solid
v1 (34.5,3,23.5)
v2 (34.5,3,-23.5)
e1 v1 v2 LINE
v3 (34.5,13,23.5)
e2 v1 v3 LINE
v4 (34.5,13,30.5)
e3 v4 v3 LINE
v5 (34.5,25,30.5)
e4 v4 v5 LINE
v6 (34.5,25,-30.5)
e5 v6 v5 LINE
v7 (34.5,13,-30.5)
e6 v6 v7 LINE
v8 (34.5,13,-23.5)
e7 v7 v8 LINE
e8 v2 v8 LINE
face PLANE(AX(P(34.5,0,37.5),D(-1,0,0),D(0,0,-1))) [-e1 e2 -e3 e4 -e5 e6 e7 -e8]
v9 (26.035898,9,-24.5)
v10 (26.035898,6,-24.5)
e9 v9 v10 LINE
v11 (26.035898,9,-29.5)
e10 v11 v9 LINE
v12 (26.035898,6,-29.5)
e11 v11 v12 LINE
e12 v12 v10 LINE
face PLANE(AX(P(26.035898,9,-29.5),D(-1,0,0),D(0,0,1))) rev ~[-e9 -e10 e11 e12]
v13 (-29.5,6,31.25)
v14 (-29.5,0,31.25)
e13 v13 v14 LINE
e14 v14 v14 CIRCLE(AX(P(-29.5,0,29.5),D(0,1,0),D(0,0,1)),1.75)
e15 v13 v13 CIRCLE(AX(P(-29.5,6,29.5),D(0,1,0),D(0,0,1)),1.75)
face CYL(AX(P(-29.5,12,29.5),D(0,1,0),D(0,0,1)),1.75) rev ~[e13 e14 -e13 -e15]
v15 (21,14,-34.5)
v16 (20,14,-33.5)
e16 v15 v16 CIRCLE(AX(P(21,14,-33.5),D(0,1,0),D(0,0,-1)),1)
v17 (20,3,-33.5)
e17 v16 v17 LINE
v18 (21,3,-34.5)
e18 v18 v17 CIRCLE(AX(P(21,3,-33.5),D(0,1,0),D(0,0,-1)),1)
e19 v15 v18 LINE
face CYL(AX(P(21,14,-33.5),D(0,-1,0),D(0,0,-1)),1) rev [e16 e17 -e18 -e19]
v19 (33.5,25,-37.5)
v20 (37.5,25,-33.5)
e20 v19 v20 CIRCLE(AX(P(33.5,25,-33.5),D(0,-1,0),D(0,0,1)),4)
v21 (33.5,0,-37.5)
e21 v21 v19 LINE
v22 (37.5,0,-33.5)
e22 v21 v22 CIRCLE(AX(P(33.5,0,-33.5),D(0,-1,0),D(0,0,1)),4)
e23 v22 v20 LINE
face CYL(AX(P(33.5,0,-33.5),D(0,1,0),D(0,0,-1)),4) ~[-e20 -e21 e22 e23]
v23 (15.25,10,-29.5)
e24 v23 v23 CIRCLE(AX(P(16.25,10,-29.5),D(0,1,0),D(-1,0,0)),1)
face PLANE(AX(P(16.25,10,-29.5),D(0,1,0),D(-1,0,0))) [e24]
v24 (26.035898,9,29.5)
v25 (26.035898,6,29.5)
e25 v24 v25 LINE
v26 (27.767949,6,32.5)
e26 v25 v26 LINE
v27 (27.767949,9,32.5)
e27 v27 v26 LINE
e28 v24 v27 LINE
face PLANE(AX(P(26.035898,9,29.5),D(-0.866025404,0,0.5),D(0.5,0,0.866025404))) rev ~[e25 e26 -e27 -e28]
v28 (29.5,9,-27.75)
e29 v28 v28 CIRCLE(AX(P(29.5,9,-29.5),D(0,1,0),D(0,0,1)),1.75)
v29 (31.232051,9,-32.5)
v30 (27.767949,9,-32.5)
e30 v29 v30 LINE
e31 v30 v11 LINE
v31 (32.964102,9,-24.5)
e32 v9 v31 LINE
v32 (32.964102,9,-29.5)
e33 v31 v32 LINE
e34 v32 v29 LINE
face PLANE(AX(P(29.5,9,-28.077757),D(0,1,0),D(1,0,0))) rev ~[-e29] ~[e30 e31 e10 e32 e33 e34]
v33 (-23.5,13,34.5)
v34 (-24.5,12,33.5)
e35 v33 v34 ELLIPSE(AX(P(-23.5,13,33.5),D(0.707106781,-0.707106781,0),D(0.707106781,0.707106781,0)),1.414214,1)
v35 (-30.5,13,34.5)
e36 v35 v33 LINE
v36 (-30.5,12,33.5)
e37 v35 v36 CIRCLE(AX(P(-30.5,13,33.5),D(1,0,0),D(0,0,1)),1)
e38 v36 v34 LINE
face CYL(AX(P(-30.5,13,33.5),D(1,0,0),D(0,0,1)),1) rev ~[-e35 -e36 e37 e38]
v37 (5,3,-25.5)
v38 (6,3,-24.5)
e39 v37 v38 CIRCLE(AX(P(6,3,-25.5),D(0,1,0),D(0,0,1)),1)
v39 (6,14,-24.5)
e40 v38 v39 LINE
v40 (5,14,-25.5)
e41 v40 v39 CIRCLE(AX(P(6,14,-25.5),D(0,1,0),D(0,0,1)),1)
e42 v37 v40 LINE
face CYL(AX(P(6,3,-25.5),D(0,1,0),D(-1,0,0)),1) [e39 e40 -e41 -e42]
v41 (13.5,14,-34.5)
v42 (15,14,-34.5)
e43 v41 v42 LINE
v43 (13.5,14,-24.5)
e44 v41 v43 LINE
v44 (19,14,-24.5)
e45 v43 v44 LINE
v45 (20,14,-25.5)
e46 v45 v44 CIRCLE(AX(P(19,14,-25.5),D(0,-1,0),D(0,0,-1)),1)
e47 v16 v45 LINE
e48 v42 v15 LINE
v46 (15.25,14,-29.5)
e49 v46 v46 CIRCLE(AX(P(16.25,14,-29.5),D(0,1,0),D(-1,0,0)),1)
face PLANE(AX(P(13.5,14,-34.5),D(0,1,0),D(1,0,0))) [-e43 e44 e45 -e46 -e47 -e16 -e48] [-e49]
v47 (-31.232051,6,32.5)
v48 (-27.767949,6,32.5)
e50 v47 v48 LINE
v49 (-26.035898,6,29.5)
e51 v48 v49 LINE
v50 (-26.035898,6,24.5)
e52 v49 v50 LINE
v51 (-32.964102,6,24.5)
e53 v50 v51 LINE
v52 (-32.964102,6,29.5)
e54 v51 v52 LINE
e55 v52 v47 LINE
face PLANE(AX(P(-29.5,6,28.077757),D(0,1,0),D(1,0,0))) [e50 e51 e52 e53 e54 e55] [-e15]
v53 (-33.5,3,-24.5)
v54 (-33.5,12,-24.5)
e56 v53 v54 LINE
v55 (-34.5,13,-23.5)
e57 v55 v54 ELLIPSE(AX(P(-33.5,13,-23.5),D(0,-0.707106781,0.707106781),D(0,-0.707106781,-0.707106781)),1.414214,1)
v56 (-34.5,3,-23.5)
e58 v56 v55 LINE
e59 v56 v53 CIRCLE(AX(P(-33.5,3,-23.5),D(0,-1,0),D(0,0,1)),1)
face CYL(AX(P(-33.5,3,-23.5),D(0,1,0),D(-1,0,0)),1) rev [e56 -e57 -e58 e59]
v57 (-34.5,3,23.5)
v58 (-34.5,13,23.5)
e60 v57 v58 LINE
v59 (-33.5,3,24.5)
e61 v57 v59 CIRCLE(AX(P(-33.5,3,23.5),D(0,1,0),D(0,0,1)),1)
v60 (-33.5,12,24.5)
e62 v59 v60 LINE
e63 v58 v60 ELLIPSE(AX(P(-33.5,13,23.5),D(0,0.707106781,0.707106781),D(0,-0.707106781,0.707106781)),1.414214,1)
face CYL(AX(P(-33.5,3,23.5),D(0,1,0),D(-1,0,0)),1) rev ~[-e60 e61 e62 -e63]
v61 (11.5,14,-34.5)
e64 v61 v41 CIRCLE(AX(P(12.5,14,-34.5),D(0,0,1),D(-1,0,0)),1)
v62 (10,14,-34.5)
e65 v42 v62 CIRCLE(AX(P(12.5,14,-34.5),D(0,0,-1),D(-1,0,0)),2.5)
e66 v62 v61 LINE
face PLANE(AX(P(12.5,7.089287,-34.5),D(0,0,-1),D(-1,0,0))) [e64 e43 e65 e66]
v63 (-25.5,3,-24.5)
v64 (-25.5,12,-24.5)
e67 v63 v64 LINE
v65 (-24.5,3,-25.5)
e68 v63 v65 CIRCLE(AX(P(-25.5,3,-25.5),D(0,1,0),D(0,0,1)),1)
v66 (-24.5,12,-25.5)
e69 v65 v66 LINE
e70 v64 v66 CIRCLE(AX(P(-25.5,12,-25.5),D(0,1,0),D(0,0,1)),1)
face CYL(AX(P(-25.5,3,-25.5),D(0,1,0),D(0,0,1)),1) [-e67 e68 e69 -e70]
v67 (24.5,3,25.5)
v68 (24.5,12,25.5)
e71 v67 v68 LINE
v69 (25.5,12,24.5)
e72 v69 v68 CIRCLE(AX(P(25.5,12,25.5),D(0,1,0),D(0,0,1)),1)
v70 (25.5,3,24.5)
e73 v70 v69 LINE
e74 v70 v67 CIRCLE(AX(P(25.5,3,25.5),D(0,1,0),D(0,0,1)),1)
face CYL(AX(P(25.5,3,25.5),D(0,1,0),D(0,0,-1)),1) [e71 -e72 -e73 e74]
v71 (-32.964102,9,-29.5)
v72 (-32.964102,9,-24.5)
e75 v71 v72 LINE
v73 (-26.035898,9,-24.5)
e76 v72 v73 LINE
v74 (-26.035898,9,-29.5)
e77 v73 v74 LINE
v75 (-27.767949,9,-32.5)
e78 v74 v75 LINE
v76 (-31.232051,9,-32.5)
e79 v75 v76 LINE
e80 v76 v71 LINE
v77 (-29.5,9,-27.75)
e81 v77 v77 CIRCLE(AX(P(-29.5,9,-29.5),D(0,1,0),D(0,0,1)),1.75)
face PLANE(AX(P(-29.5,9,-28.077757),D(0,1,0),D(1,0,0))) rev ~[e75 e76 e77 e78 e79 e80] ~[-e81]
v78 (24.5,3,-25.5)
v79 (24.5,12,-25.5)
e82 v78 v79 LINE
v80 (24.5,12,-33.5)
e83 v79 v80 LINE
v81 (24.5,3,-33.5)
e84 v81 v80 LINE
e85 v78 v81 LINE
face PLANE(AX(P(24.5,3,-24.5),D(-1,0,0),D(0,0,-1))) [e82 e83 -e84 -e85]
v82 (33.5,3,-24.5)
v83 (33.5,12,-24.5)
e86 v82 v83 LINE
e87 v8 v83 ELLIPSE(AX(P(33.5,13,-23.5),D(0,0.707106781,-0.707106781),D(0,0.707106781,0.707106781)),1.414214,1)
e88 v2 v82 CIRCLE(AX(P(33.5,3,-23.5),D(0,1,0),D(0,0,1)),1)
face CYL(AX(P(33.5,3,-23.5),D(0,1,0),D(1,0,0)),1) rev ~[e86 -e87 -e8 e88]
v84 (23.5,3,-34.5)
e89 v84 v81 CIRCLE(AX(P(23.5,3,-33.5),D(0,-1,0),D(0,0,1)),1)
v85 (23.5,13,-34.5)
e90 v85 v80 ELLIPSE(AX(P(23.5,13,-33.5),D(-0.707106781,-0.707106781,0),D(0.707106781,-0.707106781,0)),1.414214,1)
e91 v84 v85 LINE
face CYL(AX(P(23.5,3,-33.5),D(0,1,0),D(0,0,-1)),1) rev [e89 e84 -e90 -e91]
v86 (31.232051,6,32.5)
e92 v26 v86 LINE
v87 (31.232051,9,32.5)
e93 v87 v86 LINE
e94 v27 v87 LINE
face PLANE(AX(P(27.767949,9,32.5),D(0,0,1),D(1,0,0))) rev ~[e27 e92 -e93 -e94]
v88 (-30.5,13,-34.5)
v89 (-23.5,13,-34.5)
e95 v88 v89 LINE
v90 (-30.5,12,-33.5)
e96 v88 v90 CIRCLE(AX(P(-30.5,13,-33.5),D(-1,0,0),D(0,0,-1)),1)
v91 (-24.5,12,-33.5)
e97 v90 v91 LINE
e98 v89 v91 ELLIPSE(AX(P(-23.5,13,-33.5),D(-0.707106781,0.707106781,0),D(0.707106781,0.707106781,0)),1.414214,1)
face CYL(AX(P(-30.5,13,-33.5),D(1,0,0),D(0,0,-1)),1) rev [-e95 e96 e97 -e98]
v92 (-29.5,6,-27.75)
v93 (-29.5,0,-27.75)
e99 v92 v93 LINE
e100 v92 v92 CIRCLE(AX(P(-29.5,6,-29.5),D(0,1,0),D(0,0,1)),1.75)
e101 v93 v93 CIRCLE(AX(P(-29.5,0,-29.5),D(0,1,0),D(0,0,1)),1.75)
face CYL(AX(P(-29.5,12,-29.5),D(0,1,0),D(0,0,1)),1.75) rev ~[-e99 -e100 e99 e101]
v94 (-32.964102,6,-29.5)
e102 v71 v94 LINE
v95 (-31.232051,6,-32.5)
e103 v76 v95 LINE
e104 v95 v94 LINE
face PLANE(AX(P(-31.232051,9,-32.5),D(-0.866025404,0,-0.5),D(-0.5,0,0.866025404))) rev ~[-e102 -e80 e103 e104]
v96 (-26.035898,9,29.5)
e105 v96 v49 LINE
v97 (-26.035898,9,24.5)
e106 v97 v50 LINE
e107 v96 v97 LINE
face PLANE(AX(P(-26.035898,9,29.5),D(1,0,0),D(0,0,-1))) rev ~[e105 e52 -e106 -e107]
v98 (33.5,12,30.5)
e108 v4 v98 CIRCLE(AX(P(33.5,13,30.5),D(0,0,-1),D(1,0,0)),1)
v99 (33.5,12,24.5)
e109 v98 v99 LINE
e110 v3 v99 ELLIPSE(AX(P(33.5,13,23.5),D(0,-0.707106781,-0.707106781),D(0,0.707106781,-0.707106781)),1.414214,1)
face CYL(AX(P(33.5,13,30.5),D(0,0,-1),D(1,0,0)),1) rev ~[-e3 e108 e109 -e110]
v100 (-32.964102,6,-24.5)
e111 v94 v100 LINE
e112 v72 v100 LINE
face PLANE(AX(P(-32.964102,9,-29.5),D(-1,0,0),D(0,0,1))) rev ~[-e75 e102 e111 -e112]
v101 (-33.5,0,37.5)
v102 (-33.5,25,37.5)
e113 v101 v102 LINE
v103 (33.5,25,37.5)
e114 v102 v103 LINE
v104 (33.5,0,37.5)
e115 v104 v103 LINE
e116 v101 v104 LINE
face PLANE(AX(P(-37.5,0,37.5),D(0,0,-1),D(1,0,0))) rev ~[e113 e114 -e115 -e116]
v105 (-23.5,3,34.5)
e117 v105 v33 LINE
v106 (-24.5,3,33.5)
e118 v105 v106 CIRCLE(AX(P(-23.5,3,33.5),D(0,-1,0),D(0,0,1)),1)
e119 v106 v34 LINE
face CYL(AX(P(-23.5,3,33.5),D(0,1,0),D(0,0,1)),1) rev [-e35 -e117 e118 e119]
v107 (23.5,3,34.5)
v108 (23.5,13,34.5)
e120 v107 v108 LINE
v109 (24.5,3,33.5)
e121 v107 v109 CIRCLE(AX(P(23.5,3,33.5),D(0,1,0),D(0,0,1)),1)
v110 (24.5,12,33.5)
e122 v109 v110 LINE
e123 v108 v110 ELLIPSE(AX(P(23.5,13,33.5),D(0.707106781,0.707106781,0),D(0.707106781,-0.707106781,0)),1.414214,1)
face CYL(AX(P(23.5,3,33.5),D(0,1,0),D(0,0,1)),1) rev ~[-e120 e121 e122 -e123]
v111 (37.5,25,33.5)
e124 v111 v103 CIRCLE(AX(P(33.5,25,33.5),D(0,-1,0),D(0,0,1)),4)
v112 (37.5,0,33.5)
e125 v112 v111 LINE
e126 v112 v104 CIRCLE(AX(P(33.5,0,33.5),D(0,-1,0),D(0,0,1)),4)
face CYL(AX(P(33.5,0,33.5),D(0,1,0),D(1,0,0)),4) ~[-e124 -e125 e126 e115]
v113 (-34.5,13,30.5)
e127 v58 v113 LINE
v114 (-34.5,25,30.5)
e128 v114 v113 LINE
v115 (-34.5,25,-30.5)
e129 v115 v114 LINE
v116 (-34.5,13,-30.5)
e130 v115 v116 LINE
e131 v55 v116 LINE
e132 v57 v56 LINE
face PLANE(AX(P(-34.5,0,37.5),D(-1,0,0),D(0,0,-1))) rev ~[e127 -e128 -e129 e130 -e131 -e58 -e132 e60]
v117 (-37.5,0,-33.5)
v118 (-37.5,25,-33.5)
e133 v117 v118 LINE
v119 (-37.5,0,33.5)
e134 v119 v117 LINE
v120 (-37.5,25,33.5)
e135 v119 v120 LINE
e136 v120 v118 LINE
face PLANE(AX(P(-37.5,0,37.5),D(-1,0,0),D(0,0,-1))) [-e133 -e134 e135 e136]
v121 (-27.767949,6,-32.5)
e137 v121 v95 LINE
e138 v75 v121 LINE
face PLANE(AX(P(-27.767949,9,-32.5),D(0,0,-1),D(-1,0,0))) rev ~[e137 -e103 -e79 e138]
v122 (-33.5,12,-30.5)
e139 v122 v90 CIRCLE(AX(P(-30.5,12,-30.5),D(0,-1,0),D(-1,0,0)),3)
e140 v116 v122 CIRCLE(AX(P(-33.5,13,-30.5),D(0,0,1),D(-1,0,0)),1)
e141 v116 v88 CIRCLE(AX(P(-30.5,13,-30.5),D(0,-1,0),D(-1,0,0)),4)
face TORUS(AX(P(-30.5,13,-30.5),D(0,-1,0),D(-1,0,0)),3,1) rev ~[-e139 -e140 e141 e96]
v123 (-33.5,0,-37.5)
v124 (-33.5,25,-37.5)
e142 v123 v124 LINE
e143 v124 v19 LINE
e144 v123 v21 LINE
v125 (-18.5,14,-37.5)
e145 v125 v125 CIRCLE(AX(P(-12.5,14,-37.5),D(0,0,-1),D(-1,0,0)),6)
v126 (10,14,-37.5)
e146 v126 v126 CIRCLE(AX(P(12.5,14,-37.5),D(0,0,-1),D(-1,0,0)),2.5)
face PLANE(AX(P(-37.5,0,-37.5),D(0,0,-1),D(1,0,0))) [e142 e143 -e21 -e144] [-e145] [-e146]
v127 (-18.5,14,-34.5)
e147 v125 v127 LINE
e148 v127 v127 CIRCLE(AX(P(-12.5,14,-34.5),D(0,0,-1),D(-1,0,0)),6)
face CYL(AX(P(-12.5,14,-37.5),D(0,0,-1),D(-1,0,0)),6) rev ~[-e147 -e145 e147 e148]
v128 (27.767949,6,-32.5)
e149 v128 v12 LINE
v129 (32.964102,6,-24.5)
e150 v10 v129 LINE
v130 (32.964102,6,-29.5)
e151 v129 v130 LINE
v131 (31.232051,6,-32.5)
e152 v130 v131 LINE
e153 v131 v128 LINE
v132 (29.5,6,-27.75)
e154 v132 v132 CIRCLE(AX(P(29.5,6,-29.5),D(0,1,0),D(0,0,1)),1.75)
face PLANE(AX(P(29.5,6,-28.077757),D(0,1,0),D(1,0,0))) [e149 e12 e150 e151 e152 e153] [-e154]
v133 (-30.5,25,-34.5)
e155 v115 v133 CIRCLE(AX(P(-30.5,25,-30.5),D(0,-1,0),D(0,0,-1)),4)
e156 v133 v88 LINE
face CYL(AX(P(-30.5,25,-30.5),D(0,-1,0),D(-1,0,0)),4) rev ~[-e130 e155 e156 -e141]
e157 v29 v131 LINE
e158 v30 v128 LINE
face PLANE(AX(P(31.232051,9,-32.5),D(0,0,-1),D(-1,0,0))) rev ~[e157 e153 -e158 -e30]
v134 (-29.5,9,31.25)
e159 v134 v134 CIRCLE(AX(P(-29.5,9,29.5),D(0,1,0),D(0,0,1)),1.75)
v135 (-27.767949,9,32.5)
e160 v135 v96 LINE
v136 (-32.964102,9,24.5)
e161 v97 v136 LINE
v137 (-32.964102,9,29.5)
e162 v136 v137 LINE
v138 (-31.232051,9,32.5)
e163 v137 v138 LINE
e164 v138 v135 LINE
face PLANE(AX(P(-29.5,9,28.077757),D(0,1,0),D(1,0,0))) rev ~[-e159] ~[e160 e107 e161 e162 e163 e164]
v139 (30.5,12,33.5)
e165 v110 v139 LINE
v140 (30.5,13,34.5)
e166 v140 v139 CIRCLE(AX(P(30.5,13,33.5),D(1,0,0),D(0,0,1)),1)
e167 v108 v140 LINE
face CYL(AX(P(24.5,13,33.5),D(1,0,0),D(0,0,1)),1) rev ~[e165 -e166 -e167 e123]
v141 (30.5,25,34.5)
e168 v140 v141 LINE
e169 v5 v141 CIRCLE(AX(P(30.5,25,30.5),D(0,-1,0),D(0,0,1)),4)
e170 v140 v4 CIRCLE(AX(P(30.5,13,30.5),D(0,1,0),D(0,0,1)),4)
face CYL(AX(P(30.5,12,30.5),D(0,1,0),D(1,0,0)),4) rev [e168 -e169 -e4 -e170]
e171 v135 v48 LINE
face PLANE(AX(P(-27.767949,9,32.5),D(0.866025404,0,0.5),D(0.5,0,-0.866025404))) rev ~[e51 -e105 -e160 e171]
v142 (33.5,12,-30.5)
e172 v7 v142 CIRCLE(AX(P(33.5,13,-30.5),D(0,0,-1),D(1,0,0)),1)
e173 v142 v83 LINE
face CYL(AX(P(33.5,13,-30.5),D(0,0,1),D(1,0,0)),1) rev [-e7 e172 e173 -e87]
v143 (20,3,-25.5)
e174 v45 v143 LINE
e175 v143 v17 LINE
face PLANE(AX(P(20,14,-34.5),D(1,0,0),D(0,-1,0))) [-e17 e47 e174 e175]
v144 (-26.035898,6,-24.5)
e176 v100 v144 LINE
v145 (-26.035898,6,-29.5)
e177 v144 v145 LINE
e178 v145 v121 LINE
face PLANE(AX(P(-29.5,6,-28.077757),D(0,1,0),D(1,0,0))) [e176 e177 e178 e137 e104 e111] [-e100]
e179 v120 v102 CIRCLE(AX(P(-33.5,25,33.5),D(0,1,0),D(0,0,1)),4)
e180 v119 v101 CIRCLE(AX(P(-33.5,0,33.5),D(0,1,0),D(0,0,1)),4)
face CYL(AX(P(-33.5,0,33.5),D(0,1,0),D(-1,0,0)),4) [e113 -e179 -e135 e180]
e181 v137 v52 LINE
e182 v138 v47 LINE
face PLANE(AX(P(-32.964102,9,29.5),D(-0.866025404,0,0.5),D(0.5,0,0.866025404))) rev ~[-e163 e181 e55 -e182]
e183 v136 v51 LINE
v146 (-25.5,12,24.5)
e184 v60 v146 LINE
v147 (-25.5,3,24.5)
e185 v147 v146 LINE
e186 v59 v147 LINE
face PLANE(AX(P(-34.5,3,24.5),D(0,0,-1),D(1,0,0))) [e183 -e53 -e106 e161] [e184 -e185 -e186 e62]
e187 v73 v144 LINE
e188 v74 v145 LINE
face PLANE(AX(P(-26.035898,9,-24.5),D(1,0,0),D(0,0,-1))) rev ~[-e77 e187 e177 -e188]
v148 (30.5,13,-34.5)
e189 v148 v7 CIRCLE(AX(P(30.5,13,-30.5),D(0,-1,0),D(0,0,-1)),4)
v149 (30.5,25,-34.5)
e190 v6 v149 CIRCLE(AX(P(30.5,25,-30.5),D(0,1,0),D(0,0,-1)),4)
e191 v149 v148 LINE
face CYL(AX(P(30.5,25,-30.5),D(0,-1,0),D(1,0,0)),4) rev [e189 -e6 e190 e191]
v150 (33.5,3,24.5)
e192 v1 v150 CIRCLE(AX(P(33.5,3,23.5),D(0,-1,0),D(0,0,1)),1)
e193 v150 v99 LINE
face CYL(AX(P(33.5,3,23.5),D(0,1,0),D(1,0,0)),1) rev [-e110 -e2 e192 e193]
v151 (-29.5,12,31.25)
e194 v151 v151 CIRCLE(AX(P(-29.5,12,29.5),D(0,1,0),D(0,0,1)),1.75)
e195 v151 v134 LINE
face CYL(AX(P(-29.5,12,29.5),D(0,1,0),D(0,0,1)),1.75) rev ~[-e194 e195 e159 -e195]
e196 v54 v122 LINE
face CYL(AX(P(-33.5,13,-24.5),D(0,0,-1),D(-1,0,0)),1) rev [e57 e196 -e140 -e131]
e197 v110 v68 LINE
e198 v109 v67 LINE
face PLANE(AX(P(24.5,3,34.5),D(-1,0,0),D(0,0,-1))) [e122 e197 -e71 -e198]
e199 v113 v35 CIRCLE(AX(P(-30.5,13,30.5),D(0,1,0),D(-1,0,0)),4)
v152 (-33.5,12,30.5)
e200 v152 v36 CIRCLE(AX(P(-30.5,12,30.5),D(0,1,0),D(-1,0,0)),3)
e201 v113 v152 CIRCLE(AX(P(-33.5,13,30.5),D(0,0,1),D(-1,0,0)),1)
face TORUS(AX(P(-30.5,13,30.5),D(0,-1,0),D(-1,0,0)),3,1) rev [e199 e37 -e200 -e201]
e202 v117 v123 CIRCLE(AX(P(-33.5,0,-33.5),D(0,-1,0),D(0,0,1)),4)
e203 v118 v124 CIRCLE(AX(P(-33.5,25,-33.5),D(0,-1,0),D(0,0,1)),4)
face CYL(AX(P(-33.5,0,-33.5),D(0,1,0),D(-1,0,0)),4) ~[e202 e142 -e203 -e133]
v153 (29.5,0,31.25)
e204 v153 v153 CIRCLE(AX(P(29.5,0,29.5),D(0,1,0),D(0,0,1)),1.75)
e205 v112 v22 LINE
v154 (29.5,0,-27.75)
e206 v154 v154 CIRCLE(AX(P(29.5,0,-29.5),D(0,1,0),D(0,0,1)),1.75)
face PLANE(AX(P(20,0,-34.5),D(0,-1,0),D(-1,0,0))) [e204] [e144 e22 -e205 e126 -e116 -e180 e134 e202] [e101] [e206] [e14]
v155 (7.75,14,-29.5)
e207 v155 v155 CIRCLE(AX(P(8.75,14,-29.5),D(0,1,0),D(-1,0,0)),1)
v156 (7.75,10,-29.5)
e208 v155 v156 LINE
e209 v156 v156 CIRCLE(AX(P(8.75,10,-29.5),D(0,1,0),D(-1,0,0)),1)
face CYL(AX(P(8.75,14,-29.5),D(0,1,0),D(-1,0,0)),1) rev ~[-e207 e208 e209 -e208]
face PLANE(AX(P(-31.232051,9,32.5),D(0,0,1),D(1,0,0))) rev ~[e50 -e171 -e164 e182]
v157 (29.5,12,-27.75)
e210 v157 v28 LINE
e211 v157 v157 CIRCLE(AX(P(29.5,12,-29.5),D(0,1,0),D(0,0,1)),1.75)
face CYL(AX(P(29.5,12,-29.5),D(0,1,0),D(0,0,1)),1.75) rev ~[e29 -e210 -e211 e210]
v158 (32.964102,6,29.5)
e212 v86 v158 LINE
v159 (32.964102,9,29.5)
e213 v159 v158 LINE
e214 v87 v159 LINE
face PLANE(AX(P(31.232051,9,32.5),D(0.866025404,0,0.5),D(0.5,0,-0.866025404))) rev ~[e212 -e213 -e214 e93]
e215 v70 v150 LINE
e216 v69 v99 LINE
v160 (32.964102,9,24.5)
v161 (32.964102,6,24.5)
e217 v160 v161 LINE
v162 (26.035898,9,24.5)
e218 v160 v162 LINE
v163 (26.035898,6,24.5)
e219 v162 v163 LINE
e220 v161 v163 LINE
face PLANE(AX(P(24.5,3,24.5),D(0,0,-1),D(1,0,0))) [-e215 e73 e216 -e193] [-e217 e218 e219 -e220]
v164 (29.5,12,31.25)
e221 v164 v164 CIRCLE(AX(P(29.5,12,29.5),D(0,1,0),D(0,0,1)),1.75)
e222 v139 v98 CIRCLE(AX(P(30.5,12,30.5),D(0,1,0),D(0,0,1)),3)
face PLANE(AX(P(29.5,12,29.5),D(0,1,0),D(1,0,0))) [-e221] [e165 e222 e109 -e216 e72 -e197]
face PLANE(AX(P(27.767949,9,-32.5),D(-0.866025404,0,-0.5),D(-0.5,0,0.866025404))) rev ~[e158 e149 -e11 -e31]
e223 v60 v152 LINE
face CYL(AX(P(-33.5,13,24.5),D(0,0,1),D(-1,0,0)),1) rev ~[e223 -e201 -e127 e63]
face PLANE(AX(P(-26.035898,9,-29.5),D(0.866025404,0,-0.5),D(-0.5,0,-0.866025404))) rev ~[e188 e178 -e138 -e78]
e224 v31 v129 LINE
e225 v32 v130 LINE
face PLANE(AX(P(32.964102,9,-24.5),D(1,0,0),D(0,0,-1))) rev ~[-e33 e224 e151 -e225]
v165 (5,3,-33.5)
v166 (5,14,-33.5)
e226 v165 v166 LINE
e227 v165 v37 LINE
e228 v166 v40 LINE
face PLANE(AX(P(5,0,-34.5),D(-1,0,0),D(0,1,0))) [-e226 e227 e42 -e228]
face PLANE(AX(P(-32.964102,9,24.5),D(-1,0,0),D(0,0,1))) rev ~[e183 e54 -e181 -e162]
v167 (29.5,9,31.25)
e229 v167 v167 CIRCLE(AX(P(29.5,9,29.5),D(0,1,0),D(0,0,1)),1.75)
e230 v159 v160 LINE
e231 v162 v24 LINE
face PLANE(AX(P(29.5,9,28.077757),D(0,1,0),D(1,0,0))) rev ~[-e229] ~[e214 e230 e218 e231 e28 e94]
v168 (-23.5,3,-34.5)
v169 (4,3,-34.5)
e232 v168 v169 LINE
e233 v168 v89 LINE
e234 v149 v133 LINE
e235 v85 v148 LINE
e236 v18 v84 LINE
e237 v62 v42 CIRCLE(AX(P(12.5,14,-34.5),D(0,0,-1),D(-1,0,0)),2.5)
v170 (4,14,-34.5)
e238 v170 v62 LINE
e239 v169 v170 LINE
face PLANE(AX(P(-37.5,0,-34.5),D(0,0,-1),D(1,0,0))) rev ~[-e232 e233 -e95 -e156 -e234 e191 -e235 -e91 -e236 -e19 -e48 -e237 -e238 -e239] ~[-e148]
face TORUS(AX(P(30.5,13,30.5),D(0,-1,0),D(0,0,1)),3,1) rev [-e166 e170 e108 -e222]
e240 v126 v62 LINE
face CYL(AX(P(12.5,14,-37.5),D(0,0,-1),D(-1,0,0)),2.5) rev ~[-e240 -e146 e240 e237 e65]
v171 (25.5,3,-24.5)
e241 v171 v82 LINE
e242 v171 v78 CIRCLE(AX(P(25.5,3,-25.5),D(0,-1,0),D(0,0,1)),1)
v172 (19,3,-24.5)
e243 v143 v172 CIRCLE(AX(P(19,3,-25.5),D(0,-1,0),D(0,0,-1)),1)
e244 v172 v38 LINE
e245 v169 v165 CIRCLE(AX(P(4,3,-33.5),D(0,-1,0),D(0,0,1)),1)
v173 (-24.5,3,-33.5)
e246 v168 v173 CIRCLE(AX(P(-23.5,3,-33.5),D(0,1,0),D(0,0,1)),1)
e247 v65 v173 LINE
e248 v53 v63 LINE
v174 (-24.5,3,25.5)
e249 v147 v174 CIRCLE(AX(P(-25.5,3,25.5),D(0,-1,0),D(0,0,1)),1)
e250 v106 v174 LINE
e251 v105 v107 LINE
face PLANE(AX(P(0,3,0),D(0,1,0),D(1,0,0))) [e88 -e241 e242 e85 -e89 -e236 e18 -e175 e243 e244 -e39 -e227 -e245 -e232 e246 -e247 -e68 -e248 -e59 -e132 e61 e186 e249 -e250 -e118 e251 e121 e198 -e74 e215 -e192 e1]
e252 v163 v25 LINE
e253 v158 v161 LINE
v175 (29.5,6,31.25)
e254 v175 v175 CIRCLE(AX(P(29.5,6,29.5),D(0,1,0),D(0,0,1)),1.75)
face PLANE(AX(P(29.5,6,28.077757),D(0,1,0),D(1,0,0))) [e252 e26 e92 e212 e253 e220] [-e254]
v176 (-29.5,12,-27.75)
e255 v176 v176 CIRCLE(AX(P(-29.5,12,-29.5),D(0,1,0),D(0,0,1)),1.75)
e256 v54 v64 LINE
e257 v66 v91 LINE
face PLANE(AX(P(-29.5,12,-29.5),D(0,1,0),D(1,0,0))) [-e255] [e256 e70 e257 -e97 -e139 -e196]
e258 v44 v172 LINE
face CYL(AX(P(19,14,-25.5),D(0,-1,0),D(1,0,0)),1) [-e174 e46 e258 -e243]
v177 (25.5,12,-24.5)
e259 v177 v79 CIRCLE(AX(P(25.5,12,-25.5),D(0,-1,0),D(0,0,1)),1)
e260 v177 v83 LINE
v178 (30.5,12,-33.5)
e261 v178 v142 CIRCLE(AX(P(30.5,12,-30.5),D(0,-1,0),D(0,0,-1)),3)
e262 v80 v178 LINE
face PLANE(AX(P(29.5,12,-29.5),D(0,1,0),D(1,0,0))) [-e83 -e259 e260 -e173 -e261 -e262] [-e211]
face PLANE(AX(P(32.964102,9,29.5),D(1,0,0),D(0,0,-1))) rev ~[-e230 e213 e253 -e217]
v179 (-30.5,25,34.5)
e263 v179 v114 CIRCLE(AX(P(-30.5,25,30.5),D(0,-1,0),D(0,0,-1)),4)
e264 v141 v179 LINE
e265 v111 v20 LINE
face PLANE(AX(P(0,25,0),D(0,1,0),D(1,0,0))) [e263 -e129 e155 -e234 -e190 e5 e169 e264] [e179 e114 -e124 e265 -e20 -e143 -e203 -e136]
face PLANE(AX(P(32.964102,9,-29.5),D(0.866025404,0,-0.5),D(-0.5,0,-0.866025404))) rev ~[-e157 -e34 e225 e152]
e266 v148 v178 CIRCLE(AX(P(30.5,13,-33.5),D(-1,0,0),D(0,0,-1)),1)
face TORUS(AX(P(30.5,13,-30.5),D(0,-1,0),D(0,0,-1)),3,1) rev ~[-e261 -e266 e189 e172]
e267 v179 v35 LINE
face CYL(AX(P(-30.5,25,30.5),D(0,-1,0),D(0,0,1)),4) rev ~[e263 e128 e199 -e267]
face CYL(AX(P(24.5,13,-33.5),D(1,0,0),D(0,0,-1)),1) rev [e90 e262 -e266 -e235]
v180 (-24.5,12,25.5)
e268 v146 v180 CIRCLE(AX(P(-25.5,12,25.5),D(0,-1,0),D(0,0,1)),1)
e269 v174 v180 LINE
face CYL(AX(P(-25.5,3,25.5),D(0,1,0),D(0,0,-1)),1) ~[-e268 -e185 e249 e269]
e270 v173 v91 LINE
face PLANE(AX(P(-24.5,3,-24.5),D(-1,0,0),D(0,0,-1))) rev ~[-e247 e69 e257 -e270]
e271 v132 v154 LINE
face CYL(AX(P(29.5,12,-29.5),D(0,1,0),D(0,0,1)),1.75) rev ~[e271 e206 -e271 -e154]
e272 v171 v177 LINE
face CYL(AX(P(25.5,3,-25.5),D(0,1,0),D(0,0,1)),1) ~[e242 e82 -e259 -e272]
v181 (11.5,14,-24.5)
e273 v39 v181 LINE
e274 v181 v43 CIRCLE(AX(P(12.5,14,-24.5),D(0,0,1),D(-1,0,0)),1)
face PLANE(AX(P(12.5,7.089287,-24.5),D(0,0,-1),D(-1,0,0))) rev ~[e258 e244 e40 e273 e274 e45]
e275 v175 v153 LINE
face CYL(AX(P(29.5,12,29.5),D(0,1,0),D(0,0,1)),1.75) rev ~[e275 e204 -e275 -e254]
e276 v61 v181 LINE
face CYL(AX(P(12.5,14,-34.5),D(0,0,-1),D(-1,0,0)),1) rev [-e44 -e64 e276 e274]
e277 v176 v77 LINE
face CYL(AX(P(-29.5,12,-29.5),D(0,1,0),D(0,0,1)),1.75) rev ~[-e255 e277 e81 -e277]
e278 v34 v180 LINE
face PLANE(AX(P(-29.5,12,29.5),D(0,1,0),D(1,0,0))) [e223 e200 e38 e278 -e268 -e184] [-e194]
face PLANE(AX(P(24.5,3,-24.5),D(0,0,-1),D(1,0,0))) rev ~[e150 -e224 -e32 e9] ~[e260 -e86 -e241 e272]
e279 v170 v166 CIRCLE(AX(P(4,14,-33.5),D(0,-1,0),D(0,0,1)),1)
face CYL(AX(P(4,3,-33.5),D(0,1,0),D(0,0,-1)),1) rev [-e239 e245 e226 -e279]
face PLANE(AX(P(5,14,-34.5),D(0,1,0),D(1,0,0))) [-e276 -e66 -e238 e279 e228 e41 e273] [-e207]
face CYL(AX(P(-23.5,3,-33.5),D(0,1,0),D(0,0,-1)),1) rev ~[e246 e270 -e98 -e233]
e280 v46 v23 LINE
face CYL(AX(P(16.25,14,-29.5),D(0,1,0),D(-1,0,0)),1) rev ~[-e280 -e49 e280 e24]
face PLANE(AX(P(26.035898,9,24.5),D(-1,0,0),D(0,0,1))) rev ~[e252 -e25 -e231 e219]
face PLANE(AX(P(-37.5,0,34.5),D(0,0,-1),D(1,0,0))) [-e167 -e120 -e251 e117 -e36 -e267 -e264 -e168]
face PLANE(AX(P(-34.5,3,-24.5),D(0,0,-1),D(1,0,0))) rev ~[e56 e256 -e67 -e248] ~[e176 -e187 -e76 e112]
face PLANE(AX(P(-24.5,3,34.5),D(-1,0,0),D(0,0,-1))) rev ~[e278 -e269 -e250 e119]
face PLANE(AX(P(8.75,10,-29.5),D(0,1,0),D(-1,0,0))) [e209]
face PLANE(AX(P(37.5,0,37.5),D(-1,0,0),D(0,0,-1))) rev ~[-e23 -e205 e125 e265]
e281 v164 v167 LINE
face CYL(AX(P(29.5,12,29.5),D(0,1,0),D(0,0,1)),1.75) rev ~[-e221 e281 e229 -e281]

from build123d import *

# Parameters (mm, degrees)
SKETCH_1_W          = 75
SKETCH_1_H          = 75
EXTRUDE_1_DEPTH     = 25
SHELL_1_T           = -3
SKETCH_3_W          = 10
SKETCH_3_H          = 10
EXTRUDE_2_DEPTH     = 9
CUT_EXTRUDE_1_REACH = 56.603
SKETCH_4_R          = 1.75
CUT_EXTRUDE_START   = -3
CUT_EXTRUDE_2_DEPTH = 3
CUT_EXTRUDE_3_REACH = 89.5
SKETCH_6_R          = 6
SKETCH_6_R_2        = 2.5
EXTRUDE_3_DEPTH     = 10
SKETCH_8_R          = 1
CUT_EXTRUDE_4_DEPTH = 4
FILLET_1_R          = 4
FILLET_2_R          = 1


with BuildPart() as part:
    # 草图1 → 凸台-拉伸1 (new body)
    with BuildSketch(Plane(origin=(0, 0, 0), x_dir=(1, 0, 0), z_dir=(0, 1, 0))):
        Rectangle(SKETCH_1_W, SKETCH_1_H)
    extrude(amount=EXTRUDE_1_DEPTH)

    # 抽壳1
    shell_1_openings = [part.faces().sort_by_distance(p)[0] for p in [
        (0, 25, 0),
    ]]
    offset(amount=SHELL_1_T, openings=shell_1_openings, kind=Kind.INTERSECTION)

    # 草图3 → 凸台-拉伸2 (add)
    with BuildSketch(Plane(origin=(0, 3, 0), x_dir=(1, 0, 0), z_dir=(0, 1, 0))):
        with Locations((-29.5, -29.5)):
            Rectangle(SKETCH_3_W, SKETCH_3_H)
        with Locations((29.5, -29.5)):
            Rectangle(SKETCH_3_W, SKETCH_3_H)
        with Locations((29.5, 29.5)):
            Rectangle(SKETCH_3_W, SKETCH_3_H)
        with Locations((-29.5, 29.5)):
            Rectangle(SKETCH_3_W, SKETCH_3_H)
    extrude(amount=EXTRUDE_2_DEPTH)

    # 草图4 → 切除-拉伸1 (cut, up to next)
    with BuildSketch(Plane(origin=(0, 12, 0), x_dir=(1, 0, 0), z_dir=(0, 1, 0)), mode=Mode.PRIVATE) as cut_extrude_1_sk1:
        with Locations(Location((-29.5, 29.5, 0), (0, 0, 270))):
            Circle(SKETCH_4_R)
    cut_extrude_1_tool1 = extrude(cut_extrude_1_sk1.sketch, amount=-CUT_EXTRUDE_1_REACH, mode=Mode.PRIVATE) & part.part
    # 草图4 → 切除-拉伸1 (cut, up to next)
    with BuildSketch(Plane(origin=(0, 12, 0), x_dir=(1, 0, 0), z_dir=(0, 1, 0)), mode=Mode.PRIVATE) as cut_extrude_1_sk2:
        with Locations(Location((29.5, 29.5, 0), (0, 0, 270))):
            Circle(SKETCH_4_R)
    cut_extrude_1_tool2 = extrude(cut_extrude_1_sk2.sketch, amount=-CUT_EXTRUDE_1_REACH, mode=Mode.PRIVATE) & part.part
    # 草图4 → 切除-拉伸1 (cut, up to next)
    with BuildSketch(Plane(origin=(0, 12, 0), x_dir=(1, 0, 0), z_dir=(0, 1, 0)), mode=Mode.PRIVATE) as cut_extrude_1_sk3:
        with Locations(Location((29.5, -29.5, 0), (0, 0, 270))):
            Circle(SKETCH_4_R)
    cut_extrude_1_tool3 = extrude(cut_extrude_1_sk3.sketch, amount=-CUT_EXTRUDE_1_REACH, mode=Mode.PRIVATE) & part.part
    # 草图4 → 切除-拉伸1 (cut, up to next)
    with BuildSketch(Plane(origin=(0, 12, 0), x_dir=(1, 0, 0), z_dir=(0, 1, 0)), mode=Mode.PRIVATE) as cut_extrude_1_sk4:
        with Locations(Location((-29.5, -29.5, 0), (0, 0, 270))):
            Circle(SKETCH_4_R)
    cut_extrude_1_tool4 = extrude(cut_extrude_1_sk4.sketch, amount=-CUT_EXTRUDE_1_REACH, mode=Mode.PRIVATE) & part.part
    add(cut_extrude_1_tool1.solids().sort_by_distance((-29.5, 12, -29.5))[0], mode=Mode.SUBTRACT)
    add(cut_extrude_1_tool2.solids().sort_by_distance((29.5, 12, -29.5))[0], mode=Mode.SUBTRACT)
    add(cut_extrude_1_tool3.solids().sort_by_distance((29.5, 12, 29.5))[0], mode=Mode.SUBTRACT)
    add(cut_extrude_1_tool4.solids().sort_by_distance((-29.5, 12, 29.5))[0], mode=Mode.SUBTRACT)

    # 草图5 → 切除-拉伸2 (cut)
    with BuildSketch(Plane(origin=(0, 12, 0), x_dir=(1, 0, 0), z_dir=(0, 1, 0)).offset(CUT_EXTRUDE_START)):
        Polygon((-26.035898385, 29.5), (-27.767949192, 32.5), (-31.232050808, 32.5), (-32.964101615, 29.5), (-32.964101615, 24.5), (-26.035898385, 24.5), align=None)
        Polygon((32.964101615, 29.5), (31.232050808, 32.5), (27.767949192, 32.5), (26.035898385, 29.5), (26.035898385, 24.5), (32.964101615, 24.5), align=None)
        Polygon((26.035898385, -29.5), (27.767949192, -32.5), (31.232050808, -32.5), (32.964101615, -29.5), (32.964101615, -24.5), (26.035898385, -24.5), align=None)
        Polygon((-32.964101615, -29.5), (-31.232050808, -32.5), (-27.767949192, -32.5), (-26.035898385, -29.5), (-26.035898385, -24.5), (-32.964101615, -24.5), align=None)
    extrude(amount=-CUT_EXTRUDE_2_DEPTH, mode=Mode.SUBTRACT)

    # 草图6 → 切除-拉伸3 (cut, up to next)
    with BuildSketch(Plane(origin=(0, 0, -37.5), x_dir=(-1, 0, 0), z_dir=(0, 0, -1)), mode=Mode.PRIVATE) as cut_extrude_3_sk1:
        with Locations((12.5, 14)):
            Circle(SKETCH_6_R)
    cut_extrude_3_tool1 = extrude(cut_extrude_3_sk1.sketch, amount=-CUT_EXTRUDE_3_REACH, mode=Mode.PRIVATE) & part.part
    # 草图6 → 切除-拉伸3 (cut, up to next)
    with BuildSketch(Plane(origin=(0, 0, -37.5), x_dir=(-1, 0, 0), z_dir=(0, 0, -1)), mode=Mode.PRIVATE) as cut_extrude_3_sk2:
        with Locations((-12.5, 14)):
            Circle(SKETCH_6_R_2)
    cut_extrude_3_tool2 = extrude(cut_extrude_3_sk2.sketch, amount=-CUT_EXTRUDE_3_REACH, mode=Mode.PRIVATE) & part.part
    add(cut_extrude_3_tool1.solids().sort_by_distance((-12.5, 14, -37.5))[0], mode=Mode.SUBTRACT)
    add(cut_extrude_3_tool2.solids().sort_by_distance((12.5, 14, -37.5))[0], mode=Mode.SUBTRACT)

    # 草图7 → 凸台-拉伸3 (add)
    with BuildSketch(Plane.XY.offset(-34.5)):
        with BuildLine():
            Line((20, 0), (5, 0))
            Line((5, 0), (5, 14))
            Line((5, 14), (11.5, 14))
            ThreePointArc((11.5, 14), (12.5, 13), (13.5, 14))
            Line((13.5, 14), (20, 14))
            Line((20, 14), (20, 0))
        make_face()
    extrude(amount=EXTRUDE_3_DEPTH)

    # 草图8 → 切除-拉伸4 (cut)
    with BuildSketch(Plane(origin=(0, 14, 0), x_dir=(1, 0, 0), z_dir=(0, 1, 0))):
        with Locations(Location((16.25, 29.5, 0), (0, 0, 180))):
            Circle(SKETCH_8_R)
        with Locations(Location((8.75, 29.5, 0), (0, 0, 180))):
            Circle(SKETCH_8_R)
    extrude(amount=-CUT_EXTRUDE_4_DEPTH, mode=Mode.SUBTRACT)

    # 圆角1
    fillet_1_edges = [part.edges().sort_by_distance(p)[0] for p in [
        (34.5, 18.5, 34.5),
        (34.5, 18.5, -34.5),
        (-34.5, 18.5, -34.5),
        (-34.5, 18.5, 34.5),
        (37.5, 12.5, 37.5),
        (-37.5, 12.5, 37.5),
        (-37.5, 12.5, -37.5),
        (37.5, 12.5, -37.5),
    ]]
    fillet(fillet_1_edges, radius=FILLET_1_R)

    # 圆角2
    fillet_2_edges = [part.edges().sort_by_distance(p)[0] for p in [
        (20, 8.5, -34.5),
        (5, 8.5, -34.5),
        (5, 8.5, -24.5),
        (20, 8.5, -24.5),
        (-34.5, 12, -27.5),
        (-27.5, 12, 34.5),
        (-33.328427125, 12, 33.328427125),
        (27.5, 12, -34.5),
        (-33.328427125, 12, -33.328427125),
        (34.5, 12, 27.5),
        (33.328427125, 12, 33.328427125),
        (33.328427125, 12, -33.328427125),
        (-34.5, 7.5, -24.5),
        (-24.5, 7.5, -24.5),
        (-24.5, 7.5, -34.5),
        (-27.5, 12, -34.5),
        (-34.5, 7.5, 24.5),
        (-24.5, 7.5, 34.5),
        (-24.5, 7.5, 24.5),
        (-34.5, 12, 27.5),
        (34.5, 7.5, 24.5),
        (24.5, 7.5, 24.5),
        (24.5, 7.5, 34.5),
        (27.5, 12, 34.5),
        (34.5, 7.5, -24.5),
        (24.5, 7.5, -34.5),
        (24.5, 7.5, -24.5),
        (34.5, 12, -27.5),
    ]]
    fillet(fillet_2_edges, radius=FILLET_2_R)


solid = part.part
